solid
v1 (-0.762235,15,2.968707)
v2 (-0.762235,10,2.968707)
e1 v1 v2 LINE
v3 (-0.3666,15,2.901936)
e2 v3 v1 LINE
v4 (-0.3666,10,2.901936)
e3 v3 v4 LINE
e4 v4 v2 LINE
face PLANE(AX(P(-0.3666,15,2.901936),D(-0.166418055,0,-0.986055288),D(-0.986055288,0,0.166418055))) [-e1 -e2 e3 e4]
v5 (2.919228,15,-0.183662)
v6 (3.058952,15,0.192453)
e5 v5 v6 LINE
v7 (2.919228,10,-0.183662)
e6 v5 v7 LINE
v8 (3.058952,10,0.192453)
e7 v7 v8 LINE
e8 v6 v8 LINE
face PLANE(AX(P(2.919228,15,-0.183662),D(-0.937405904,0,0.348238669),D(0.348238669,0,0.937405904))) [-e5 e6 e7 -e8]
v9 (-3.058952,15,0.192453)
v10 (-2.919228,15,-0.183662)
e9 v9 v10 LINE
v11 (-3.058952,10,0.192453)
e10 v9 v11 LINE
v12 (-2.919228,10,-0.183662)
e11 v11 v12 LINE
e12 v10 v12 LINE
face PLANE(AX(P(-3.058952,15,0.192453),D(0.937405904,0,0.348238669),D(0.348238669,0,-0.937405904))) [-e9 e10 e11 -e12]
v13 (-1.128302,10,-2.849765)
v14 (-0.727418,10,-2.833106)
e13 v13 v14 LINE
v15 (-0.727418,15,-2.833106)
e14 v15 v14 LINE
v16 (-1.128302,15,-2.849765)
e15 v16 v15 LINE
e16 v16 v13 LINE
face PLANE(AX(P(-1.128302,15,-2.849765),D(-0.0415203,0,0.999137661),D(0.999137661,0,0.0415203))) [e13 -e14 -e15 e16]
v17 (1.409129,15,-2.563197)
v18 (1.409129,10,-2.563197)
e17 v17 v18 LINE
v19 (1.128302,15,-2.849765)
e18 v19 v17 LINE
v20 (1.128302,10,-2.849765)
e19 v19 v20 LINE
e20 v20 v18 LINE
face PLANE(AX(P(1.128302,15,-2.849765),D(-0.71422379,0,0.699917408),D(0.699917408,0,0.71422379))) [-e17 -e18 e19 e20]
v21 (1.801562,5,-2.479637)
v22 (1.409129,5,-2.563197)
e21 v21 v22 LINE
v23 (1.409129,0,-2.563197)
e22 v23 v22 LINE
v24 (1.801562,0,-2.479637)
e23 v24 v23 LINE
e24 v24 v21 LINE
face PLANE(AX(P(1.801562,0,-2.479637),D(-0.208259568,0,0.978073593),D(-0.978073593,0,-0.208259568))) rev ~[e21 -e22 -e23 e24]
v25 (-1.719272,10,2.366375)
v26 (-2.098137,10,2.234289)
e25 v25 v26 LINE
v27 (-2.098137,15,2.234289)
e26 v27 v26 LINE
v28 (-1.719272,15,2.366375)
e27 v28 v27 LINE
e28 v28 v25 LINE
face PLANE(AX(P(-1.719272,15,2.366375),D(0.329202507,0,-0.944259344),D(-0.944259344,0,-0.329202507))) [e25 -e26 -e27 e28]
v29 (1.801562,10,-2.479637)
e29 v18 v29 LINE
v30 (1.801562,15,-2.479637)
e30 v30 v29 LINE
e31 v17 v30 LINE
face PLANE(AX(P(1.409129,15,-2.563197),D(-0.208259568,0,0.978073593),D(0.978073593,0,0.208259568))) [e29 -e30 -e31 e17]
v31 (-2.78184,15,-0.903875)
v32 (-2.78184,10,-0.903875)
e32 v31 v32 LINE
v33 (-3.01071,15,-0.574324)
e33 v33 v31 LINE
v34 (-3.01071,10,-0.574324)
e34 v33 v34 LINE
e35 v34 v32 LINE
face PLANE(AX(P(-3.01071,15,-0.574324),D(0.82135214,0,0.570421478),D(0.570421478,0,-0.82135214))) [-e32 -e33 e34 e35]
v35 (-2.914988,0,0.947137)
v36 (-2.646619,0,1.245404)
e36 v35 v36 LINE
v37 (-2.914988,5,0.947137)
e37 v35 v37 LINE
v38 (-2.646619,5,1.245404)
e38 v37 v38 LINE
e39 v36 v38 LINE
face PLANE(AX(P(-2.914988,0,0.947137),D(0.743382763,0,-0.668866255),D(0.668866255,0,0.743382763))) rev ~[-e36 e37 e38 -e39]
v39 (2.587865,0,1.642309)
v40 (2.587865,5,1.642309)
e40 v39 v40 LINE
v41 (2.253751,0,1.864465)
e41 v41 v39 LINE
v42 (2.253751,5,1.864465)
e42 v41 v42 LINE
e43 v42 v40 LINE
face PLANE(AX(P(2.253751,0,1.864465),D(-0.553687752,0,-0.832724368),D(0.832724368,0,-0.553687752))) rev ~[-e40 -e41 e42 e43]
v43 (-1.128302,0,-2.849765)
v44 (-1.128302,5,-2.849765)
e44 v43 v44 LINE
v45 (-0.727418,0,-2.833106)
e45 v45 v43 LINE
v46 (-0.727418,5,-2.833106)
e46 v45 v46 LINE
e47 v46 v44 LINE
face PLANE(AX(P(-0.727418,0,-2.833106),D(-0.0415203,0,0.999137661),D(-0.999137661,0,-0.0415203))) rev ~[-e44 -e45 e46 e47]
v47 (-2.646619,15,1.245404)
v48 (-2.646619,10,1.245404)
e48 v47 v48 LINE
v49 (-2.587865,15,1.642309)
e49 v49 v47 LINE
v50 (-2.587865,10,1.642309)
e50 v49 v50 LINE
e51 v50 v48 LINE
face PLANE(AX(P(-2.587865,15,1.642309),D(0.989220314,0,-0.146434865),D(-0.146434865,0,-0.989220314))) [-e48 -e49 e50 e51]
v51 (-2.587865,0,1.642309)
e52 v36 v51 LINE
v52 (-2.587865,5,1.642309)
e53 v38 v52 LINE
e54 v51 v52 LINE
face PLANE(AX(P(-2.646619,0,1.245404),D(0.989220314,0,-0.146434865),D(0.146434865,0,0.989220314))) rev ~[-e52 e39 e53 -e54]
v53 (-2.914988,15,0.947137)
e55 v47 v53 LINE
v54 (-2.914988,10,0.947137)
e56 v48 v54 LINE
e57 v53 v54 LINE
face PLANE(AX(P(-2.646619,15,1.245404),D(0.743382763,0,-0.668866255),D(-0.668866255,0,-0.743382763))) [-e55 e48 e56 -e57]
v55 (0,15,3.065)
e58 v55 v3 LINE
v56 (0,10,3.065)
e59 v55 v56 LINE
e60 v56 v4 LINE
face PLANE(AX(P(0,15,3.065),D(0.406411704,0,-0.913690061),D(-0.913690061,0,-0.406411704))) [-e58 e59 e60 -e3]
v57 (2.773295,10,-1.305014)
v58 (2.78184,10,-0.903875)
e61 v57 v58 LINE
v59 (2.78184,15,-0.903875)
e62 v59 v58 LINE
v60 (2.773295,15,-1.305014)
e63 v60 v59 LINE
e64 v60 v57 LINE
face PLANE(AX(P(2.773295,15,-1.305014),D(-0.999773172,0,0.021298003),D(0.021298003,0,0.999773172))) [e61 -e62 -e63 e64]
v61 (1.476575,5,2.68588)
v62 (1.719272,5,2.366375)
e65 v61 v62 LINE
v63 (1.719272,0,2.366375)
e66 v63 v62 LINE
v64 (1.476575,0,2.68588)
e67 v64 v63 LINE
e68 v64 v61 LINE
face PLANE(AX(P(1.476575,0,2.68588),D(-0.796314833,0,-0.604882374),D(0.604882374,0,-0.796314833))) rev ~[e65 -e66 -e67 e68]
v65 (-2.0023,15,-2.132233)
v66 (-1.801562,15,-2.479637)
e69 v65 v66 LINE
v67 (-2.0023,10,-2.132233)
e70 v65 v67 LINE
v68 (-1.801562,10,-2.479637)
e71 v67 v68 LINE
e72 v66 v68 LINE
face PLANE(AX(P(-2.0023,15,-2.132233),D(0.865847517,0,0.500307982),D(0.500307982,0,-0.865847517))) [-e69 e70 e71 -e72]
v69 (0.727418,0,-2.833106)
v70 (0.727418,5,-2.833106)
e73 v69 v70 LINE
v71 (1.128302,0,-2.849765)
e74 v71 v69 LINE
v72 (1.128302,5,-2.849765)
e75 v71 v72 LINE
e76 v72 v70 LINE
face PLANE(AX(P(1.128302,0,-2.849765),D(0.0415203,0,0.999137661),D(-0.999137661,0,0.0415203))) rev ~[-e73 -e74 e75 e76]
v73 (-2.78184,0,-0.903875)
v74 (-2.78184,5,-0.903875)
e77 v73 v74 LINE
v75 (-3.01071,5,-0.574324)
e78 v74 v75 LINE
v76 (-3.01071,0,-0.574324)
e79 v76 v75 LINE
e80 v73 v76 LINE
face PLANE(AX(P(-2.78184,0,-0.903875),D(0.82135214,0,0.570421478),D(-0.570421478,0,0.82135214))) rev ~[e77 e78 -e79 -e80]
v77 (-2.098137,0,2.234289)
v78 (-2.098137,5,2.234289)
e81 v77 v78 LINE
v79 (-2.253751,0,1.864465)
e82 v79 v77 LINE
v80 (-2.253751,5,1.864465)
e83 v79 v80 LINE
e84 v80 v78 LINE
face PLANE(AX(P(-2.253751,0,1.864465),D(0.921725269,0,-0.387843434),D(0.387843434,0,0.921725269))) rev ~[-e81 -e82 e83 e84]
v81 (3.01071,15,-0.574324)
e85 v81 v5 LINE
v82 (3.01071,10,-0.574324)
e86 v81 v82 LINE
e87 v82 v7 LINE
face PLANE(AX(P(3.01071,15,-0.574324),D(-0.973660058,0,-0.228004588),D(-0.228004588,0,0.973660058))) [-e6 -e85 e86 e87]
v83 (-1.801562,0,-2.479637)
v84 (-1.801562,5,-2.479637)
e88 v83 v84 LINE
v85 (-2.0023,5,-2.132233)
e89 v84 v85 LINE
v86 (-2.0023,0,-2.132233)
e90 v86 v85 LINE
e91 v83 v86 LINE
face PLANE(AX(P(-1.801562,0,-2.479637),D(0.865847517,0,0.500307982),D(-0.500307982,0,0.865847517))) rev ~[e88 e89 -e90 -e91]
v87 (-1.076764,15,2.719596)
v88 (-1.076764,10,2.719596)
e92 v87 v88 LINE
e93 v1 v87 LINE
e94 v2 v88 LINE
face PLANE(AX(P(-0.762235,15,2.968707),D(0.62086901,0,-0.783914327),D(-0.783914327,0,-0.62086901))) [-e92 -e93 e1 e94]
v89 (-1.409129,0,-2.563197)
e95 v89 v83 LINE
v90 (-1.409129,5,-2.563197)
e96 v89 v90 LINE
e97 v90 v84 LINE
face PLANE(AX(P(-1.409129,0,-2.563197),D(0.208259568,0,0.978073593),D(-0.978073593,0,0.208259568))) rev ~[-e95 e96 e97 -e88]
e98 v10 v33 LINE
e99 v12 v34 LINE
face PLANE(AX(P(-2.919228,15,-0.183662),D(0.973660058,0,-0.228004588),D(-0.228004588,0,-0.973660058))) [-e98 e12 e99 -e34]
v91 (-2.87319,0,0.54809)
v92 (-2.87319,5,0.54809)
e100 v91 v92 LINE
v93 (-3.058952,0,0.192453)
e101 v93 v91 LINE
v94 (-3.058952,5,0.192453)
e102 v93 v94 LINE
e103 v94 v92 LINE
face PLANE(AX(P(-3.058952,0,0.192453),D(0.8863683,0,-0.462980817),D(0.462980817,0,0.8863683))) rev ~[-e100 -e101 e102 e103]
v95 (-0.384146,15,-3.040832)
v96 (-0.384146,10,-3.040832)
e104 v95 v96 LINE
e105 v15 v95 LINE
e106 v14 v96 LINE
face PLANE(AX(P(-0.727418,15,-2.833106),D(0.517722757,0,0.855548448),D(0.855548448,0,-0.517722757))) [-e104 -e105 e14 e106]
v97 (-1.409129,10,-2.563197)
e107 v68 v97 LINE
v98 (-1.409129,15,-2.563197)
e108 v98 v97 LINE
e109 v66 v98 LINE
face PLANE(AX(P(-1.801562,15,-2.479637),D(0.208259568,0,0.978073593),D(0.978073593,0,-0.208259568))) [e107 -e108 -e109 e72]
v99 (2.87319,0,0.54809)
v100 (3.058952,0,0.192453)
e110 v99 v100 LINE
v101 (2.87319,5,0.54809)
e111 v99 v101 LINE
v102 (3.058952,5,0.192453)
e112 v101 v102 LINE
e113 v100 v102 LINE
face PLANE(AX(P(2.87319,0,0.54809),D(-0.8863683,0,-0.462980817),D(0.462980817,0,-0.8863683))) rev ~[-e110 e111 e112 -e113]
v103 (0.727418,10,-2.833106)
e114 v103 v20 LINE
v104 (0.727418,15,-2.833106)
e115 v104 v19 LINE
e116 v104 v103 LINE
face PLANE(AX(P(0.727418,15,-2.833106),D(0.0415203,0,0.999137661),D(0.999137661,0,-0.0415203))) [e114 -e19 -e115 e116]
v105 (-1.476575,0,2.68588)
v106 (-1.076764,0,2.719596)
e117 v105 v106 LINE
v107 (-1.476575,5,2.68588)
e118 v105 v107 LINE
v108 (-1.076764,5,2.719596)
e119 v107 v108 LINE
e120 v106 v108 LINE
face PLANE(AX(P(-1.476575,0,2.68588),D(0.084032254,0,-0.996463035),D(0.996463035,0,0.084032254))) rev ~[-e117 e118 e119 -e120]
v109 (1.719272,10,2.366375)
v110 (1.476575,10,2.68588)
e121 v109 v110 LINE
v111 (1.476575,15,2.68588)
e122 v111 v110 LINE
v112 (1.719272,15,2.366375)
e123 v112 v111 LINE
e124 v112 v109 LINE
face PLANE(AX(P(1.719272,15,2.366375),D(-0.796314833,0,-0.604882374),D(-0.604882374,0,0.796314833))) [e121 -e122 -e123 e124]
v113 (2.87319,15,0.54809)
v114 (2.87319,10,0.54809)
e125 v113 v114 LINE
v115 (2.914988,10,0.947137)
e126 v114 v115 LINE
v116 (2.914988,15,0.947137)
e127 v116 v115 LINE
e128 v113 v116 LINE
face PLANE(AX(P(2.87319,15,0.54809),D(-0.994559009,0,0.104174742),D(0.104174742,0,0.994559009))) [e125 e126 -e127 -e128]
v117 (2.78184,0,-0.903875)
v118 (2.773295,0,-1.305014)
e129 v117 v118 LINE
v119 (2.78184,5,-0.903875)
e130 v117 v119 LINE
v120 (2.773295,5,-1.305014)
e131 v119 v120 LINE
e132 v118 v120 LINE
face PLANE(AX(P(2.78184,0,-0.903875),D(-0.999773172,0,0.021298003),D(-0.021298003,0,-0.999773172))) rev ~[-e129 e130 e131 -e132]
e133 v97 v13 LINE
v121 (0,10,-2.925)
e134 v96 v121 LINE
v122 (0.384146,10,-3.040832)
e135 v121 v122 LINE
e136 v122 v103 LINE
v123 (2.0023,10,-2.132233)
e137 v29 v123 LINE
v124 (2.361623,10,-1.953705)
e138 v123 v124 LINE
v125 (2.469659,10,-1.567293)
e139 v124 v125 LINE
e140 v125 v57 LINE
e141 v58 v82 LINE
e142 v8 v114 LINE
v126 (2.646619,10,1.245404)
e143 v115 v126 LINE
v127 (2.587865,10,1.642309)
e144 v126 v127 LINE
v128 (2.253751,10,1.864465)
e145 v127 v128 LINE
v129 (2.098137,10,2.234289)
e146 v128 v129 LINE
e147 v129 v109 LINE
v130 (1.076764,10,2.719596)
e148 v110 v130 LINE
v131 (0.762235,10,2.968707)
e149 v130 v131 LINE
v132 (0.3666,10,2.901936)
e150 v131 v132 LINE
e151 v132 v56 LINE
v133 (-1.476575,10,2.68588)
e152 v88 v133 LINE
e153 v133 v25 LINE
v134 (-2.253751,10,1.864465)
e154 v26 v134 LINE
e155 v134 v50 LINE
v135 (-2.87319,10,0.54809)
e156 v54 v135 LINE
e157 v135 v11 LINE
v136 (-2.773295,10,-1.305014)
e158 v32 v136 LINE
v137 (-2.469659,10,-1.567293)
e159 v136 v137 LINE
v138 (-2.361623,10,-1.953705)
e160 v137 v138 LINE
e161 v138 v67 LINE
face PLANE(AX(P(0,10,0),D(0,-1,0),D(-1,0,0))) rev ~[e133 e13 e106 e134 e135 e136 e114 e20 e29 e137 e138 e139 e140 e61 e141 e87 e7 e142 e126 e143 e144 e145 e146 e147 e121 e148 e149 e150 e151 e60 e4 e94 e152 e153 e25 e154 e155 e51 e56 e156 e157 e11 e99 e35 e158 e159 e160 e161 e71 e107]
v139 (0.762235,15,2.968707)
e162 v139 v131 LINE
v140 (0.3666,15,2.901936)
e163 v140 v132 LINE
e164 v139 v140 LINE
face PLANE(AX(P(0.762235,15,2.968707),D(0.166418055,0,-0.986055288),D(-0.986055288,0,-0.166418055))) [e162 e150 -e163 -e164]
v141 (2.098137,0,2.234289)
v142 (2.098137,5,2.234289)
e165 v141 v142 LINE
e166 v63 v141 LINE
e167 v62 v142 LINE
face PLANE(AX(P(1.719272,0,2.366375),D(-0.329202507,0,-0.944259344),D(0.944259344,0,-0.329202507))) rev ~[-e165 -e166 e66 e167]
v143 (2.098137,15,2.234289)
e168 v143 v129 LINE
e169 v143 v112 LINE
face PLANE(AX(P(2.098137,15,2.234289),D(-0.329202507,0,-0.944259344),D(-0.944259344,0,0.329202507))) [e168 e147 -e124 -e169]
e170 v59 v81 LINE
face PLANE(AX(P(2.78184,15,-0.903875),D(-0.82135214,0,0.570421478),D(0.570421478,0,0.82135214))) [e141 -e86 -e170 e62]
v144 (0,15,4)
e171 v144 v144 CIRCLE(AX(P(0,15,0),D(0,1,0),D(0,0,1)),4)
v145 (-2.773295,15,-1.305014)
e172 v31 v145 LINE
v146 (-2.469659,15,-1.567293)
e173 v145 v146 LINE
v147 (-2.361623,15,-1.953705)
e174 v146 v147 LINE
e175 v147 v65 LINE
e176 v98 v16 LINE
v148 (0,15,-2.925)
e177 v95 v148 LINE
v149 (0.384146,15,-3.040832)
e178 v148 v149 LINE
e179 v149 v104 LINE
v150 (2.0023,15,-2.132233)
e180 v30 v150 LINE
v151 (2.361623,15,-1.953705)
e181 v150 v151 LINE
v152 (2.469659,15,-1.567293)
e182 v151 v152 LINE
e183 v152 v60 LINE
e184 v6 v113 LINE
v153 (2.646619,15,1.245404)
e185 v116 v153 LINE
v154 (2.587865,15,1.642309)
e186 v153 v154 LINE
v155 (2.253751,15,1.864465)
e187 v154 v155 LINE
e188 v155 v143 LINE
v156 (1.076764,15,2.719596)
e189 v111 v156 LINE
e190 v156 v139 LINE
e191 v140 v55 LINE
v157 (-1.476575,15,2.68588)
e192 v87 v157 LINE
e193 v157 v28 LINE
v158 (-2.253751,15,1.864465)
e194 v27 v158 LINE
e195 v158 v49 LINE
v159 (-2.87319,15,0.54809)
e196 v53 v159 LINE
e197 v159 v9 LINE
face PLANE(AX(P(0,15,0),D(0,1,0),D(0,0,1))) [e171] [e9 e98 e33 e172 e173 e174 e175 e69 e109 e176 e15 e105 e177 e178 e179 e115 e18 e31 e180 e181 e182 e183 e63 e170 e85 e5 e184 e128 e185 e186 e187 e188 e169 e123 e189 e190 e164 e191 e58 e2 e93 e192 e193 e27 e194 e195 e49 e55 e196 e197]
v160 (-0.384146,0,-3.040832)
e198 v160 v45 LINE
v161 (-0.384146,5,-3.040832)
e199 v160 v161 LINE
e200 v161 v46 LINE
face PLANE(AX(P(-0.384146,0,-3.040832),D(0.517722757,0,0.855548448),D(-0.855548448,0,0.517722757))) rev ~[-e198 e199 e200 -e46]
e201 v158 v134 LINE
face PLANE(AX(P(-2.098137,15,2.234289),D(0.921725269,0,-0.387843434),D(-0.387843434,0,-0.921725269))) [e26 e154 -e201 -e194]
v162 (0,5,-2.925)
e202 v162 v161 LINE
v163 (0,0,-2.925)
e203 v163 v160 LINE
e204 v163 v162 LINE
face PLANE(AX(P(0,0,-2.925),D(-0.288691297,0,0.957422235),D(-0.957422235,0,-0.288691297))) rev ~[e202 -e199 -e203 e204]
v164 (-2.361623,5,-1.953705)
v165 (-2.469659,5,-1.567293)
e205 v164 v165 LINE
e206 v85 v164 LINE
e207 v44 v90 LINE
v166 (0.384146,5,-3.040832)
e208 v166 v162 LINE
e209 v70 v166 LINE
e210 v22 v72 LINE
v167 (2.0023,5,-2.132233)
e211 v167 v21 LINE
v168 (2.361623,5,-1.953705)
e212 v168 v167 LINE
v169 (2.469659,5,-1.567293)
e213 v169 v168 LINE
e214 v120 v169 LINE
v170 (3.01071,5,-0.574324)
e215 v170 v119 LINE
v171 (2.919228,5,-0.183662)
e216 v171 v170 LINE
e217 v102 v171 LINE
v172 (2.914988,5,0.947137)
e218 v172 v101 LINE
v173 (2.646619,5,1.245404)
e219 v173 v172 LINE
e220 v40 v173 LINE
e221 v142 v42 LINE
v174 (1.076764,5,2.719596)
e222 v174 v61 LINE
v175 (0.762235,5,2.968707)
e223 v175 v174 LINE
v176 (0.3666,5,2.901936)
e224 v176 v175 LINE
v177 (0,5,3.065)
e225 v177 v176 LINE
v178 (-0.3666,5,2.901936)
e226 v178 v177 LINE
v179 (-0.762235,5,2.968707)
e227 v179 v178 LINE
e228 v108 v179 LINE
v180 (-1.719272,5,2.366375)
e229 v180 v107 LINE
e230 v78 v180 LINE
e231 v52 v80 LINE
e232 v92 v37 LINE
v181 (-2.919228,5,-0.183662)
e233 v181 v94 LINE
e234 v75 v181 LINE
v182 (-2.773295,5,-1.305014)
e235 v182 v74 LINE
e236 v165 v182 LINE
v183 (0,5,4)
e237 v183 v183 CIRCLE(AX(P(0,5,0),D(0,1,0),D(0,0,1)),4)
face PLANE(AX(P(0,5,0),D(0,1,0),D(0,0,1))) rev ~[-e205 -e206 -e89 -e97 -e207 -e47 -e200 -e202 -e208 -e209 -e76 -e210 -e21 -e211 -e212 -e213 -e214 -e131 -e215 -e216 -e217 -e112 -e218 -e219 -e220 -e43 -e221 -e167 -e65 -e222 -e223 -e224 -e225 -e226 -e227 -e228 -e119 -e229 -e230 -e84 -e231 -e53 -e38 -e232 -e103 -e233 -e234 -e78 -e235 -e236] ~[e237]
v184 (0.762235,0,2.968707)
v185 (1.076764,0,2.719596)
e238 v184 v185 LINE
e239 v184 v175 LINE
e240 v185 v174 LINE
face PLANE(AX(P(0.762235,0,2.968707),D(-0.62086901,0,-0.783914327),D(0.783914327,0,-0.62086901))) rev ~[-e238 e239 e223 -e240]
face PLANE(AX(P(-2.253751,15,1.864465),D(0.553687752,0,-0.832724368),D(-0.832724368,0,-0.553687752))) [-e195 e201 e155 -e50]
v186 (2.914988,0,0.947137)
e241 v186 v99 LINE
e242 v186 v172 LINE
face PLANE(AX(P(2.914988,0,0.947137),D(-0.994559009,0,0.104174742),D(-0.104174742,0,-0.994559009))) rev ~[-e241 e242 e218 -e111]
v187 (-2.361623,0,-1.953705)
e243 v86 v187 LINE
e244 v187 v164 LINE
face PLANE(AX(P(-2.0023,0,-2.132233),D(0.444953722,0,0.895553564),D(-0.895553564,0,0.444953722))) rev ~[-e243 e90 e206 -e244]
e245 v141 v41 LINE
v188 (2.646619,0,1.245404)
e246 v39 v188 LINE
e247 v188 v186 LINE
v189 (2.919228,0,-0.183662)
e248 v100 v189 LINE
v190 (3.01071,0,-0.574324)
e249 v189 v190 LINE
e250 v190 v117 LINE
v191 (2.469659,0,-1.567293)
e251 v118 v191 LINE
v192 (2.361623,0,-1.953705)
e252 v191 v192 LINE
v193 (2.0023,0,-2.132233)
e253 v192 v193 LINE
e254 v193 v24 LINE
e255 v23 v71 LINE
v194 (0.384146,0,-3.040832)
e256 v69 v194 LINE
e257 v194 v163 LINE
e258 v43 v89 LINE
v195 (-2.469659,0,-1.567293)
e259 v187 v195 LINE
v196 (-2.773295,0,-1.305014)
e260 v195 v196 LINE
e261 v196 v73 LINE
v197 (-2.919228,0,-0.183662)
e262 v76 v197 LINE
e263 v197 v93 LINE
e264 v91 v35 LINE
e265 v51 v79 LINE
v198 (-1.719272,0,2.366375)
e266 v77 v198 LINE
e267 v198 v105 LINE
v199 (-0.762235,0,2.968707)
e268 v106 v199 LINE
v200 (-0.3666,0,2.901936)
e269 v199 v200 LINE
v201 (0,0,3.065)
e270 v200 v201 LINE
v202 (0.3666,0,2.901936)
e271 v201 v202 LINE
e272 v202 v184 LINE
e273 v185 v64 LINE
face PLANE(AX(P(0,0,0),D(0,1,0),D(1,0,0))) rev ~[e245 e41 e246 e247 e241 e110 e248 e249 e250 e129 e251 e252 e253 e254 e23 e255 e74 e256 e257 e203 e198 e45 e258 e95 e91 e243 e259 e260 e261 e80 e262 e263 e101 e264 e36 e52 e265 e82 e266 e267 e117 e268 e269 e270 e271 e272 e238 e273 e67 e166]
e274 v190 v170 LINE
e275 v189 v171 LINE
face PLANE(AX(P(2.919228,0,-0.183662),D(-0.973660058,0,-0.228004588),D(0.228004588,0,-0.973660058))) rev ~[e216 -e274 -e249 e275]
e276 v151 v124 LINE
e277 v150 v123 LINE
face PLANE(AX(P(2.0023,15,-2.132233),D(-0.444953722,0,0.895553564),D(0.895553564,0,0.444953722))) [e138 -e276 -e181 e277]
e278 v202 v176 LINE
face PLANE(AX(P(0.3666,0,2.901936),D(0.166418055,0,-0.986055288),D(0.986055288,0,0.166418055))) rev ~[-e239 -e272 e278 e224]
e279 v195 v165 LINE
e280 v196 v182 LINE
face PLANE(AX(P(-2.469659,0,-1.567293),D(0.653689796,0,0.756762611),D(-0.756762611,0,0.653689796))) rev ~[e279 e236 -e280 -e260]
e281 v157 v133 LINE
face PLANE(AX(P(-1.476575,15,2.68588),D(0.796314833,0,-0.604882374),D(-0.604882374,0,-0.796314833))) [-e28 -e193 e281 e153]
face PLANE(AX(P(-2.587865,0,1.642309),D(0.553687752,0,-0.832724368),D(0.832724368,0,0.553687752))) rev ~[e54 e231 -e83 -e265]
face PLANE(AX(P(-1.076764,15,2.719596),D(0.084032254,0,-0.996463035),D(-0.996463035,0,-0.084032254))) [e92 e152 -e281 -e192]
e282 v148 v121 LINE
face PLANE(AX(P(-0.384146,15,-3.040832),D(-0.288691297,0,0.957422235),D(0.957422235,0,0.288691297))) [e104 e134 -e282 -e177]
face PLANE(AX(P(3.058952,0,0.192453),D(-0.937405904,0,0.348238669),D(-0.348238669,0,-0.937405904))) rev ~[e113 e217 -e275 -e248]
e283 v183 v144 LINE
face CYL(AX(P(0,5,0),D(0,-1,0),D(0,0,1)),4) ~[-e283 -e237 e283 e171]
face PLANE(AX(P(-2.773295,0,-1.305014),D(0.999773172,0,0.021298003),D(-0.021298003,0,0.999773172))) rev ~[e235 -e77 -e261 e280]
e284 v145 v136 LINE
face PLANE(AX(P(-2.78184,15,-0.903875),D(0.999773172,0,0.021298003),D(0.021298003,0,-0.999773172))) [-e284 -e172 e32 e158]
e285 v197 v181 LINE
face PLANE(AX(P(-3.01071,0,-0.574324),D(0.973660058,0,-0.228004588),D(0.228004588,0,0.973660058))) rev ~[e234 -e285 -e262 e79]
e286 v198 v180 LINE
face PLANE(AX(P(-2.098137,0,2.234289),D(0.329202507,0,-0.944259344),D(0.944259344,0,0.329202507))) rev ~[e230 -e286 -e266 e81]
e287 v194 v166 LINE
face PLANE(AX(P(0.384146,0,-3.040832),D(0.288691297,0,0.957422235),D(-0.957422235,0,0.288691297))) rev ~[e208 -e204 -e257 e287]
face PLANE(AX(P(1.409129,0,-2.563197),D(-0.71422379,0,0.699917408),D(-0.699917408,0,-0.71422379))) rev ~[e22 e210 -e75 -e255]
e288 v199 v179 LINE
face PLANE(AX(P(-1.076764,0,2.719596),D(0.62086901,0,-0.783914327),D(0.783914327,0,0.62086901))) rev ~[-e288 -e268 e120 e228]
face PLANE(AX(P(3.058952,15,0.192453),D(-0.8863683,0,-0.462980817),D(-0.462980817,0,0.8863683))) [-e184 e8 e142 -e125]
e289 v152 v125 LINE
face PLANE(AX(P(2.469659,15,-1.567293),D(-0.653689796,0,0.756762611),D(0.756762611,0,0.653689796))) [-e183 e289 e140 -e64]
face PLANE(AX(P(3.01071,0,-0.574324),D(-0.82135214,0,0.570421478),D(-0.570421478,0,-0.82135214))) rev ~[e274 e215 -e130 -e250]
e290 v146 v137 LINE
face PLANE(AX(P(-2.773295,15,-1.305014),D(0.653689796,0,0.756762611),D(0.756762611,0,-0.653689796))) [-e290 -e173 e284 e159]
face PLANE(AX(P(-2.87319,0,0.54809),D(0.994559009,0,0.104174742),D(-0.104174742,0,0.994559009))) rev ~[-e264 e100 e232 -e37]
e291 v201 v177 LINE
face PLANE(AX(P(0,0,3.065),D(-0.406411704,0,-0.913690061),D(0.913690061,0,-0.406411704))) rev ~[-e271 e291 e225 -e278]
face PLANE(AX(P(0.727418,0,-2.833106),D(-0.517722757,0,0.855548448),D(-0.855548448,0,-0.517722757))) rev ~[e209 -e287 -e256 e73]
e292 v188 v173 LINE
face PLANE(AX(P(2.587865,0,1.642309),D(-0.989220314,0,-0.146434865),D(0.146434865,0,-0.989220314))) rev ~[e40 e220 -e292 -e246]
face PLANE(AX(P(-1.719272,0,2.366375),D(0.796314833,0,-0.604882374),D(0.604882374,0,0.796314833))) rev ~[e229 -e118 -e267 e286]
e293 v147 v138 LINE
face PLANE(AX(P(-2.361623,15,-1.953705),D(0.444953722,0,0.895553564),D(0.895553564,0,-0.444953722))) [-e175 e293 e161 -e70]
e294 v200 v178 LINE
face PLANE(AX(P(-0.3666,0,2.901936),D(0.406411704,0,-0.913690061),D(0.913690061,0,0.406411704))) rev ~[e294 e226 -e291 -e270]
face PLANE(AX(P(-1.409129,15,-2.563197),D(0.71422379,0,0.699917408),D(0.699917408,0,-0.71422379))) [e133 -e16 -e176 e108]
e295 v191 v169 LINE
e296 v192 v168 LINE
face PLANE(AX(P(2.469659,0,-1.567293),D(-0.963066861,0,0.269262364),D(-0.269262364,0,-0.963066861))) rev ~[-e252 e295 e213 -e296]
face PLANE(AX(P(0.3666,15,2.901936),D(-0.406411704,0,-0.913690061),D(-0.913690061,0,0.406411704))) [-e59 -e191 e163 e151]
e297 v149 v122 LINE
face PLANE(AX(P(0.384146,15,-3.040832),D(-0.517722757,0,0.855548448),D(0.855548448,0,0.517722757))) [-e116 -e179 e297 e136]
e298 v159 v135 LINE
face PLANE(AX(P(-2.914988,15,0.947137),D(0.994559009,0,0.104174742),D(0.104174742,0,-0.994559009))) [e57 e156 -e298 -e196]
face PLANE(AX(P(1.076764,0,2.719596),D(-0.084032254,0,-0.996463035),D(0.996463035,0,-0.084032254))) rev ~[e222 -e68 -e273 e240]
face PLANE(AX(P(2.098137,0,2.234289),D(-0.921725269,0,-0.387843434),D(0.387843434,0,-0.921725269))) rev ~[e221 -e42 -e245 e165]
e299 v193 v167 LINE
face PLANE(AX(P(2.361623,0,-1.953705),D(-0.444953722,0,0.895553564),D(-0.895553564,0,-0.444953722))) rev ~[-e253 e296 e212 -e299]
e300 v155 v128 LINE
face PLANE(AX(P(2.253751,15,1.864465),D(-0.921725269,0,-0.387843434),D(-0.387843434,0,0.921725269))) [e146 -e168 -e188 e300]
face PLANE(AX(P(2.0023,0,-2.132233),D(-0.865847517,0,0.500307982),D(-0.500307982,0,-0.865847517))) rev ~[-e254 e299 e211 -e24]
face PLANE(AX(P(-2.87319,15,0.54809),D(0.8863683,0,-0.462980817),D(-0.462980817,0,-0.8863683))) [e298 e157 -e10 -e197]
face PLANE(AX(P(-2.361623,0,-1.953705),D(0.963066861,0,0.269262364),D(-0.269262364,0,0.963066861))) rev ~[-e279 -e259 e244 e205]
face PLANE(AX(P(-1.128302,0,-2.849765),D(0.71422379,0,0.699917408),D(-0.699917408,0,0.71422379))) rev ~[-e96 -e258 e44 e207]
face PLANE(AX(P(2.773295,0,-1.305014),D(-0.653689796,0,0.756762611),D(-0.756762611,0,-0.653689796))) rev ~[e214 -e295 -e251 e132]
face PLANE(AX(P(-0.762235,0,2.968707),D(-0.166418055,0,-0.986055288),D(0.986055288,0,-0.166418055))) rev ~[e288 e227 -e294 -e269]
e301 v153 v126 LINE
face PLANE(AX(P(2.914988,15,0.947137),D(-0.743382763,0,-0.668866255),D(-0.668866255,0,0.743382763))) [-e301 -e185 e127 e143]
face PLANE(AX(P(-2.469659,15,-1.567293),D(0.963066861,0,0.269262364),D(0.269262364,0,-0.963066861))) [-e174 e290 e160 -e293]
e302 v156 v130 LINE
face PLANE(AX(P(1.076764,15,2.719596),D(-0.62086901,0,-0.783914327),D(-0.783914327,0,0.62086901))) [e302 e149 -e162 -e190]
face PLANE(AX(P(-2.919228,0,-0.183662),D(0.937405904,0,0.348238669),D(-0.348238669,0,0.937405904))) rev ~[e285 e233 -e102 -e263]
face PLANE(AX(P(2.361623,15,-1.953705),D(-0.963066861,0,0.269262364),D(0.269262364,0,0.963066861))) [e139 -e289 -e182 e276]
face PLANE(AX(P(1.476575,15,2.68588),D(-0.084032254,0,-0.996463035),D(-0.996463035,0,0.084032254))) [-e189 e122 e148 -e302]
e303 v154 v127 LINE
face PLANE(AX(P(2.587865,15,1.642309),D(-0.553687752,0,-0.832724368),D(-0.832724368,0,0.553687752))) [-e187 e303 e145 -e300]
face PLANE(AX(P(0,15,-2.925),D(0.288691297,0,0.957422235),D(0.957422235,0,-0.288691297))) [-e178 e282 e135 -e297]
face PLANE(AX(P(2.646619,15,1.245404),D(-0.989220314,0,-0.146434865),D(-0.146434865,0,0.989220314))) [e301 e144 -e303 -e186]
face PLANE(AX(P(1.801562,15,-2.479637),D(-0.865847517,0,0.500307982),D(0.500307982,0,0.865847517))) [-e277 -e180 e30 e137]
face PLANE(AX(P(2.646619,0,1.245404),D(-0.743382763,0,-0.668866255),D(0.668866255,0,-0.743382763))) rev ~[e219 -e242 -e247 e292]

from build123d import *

# Parameters (mm, degrees)
BOSS_EXTRUDE2_DEPTH = 5
SKETCH2_R           = 4
BOSS_EXTRUDE3_DEPTH = 10
CUT_EXTRUDE4_DEPTH  = 5


with BuildPart() as part:
    # Sketch1 → Boss-Extrude2 (new body)
    with BuildSketch(Plane(origin=(0, 0, 0), x_dir=(1, 0, 0), z_dir=(0, 1, 0))):
        Polygon((0, 2.925), (-0.384146361, 3.04083156), (-0.72741792, 2.833105746), (-1.128301754, 2.849764929), (-1.409129497, 2.563197039), (-1.801561798, 2.479637088), (-2.002300285, 2.132233235), (-2.361623089, 1.953704529), (-2.469659182, 1.567293375), (-2.773294916, 1.305013529), (-2.78184031, 0.903874709), (-3.010710423, 0.574323729), (-2.919228181, 0.18366227), (-3.058951923, -0.192452942), (-2.873190208, -0.548090345), (-2.914988222, -0.947137088), (-2.646619128, -1.245404428), (-2.587865092, -1.642309127), (-2.253751235, -1.86446517), (-2.09813688, -2.234288843), (-1.719271863, -2.366374709), (-1.476575011, -2.685879974), (-1.076764317, -2.719596221), (-0.762234504, -2.968707389), (-0.366599708, -2.901935501), (0, -3.065), (0.366599708, -2.901935501), (0.762234504, -2.968707389), (1.076764317, -2.719596221), (1.476575011, -2.685879974), (1.719271863, -2.366374709), (2.09813688, -2.234288843), (2.253751235, -1.86446517), (2.587865092, -1.642309127), (2.646619128, -1.245404428), (2.914988222, -0.947137088), (2.873190208, -0.548090345), (3.058951923, -0.192452942), (2.919228181, 0.18366227), (3.010710423, 0.574323729), (2.78184031, 0.903874709), (2.773294916, 1.305013529), (2.469659182, 1.567293375), (2.361623089, 1.953704529), (2.002300285, 2.132233235), (1.801561798, 2.479637088), (1.409129497, 2.563197039), (1.128301754, 2.849764929), (0.72741792, 2.833105746), (0.384146361, 3.04083156), align=None)
    extrude(amount=BOSS_EXTRUDE2_DEPTH)

    # Sketch2 → Boss-Extrude3 (add)
    with BuildSketch(Plane(origin=(0, 5, 0), x_dir=(1, 0, 0), z_dir=(0, 1, 0))):
        with Locations(Location((0, 0, 0), (0, 0, 270))):
            Circle(SKETCH2_R)
    extrude(amount=BOSS_EXTRUDE3_DEPTH)

    # Sketch3 → Cut-Extrude4 (cut)
    with BuildSketch(Plane(origin=(0, 15, 0), x_dir=(1, 0, 0), z_dir=(0, 1, 0))):
        Polygon((-0.72741792, 2.833105746), (-0.384146361, 3.04083156), (0, 2.925), (0.384146361, 3.04083156), (0.72741792, 2.833105746), (1.128301754, 2.849764929), (1.409129497, 2.563197039), (1.801561798, 2.479637088), (2.002300285, 2.132233235), (2.361623089, 1.953704529), (2.469659182, 1.567293375), (2.773294916, 1.305013529), (2.78184031, 0.903874709), (3.010710423, 0.574323729), (2.919228181, 0.18366227), (3.058951923, -0.192452942), (2.873190208, -0.548090345), (2.914988222, -0.947137088), (2.646619128, -1.245404428), (2.587865092, -1.642309127), (2.253751235, -1.86446517), (2.09813688, -2.234288843), (1.719271863, -2.366374709), (1.476575011, -2.685879974), (1.076764317, -2.719596221), (0.762234504, -2.968707389), (0.366599708, -2.901935501), (0, -3.065), (-0.366599708, -2.901935501), (-0.762234504, -2.968707389), (-1.076764317, -2.719596221), (-1.476575011, -2.685879974), (-1.719271863, -2.366374709), (-2.09813688, -2.234288843), (-2.253751235, -1.86446517), (-2.587865092, -1.642309127), (-2.646619128, -1.245404428), (-2.914988222, -0.947137088), (-2.873190208, -0.548090345), (-3.058951923, -0.192452942), (-2.919228181, 0.18366227), (-3.010710423, 0.574323729), (-2.78184031, 0.903874709), (-2.773294916, 1.305013529), (-2.469659182, 1.567293375), (-2.361623089, 1.953704529), (-2.002300285, 2.132233235), (-1.801561798, 2.479637088), (-1.409129497, 2.563197039), (-1.128301754, 2.849764929), align=None)
    extrude(amount=-CUT_EXTRUDE4_DEPTH, mode=Mode.SUBTRACT)


solid = part.part
